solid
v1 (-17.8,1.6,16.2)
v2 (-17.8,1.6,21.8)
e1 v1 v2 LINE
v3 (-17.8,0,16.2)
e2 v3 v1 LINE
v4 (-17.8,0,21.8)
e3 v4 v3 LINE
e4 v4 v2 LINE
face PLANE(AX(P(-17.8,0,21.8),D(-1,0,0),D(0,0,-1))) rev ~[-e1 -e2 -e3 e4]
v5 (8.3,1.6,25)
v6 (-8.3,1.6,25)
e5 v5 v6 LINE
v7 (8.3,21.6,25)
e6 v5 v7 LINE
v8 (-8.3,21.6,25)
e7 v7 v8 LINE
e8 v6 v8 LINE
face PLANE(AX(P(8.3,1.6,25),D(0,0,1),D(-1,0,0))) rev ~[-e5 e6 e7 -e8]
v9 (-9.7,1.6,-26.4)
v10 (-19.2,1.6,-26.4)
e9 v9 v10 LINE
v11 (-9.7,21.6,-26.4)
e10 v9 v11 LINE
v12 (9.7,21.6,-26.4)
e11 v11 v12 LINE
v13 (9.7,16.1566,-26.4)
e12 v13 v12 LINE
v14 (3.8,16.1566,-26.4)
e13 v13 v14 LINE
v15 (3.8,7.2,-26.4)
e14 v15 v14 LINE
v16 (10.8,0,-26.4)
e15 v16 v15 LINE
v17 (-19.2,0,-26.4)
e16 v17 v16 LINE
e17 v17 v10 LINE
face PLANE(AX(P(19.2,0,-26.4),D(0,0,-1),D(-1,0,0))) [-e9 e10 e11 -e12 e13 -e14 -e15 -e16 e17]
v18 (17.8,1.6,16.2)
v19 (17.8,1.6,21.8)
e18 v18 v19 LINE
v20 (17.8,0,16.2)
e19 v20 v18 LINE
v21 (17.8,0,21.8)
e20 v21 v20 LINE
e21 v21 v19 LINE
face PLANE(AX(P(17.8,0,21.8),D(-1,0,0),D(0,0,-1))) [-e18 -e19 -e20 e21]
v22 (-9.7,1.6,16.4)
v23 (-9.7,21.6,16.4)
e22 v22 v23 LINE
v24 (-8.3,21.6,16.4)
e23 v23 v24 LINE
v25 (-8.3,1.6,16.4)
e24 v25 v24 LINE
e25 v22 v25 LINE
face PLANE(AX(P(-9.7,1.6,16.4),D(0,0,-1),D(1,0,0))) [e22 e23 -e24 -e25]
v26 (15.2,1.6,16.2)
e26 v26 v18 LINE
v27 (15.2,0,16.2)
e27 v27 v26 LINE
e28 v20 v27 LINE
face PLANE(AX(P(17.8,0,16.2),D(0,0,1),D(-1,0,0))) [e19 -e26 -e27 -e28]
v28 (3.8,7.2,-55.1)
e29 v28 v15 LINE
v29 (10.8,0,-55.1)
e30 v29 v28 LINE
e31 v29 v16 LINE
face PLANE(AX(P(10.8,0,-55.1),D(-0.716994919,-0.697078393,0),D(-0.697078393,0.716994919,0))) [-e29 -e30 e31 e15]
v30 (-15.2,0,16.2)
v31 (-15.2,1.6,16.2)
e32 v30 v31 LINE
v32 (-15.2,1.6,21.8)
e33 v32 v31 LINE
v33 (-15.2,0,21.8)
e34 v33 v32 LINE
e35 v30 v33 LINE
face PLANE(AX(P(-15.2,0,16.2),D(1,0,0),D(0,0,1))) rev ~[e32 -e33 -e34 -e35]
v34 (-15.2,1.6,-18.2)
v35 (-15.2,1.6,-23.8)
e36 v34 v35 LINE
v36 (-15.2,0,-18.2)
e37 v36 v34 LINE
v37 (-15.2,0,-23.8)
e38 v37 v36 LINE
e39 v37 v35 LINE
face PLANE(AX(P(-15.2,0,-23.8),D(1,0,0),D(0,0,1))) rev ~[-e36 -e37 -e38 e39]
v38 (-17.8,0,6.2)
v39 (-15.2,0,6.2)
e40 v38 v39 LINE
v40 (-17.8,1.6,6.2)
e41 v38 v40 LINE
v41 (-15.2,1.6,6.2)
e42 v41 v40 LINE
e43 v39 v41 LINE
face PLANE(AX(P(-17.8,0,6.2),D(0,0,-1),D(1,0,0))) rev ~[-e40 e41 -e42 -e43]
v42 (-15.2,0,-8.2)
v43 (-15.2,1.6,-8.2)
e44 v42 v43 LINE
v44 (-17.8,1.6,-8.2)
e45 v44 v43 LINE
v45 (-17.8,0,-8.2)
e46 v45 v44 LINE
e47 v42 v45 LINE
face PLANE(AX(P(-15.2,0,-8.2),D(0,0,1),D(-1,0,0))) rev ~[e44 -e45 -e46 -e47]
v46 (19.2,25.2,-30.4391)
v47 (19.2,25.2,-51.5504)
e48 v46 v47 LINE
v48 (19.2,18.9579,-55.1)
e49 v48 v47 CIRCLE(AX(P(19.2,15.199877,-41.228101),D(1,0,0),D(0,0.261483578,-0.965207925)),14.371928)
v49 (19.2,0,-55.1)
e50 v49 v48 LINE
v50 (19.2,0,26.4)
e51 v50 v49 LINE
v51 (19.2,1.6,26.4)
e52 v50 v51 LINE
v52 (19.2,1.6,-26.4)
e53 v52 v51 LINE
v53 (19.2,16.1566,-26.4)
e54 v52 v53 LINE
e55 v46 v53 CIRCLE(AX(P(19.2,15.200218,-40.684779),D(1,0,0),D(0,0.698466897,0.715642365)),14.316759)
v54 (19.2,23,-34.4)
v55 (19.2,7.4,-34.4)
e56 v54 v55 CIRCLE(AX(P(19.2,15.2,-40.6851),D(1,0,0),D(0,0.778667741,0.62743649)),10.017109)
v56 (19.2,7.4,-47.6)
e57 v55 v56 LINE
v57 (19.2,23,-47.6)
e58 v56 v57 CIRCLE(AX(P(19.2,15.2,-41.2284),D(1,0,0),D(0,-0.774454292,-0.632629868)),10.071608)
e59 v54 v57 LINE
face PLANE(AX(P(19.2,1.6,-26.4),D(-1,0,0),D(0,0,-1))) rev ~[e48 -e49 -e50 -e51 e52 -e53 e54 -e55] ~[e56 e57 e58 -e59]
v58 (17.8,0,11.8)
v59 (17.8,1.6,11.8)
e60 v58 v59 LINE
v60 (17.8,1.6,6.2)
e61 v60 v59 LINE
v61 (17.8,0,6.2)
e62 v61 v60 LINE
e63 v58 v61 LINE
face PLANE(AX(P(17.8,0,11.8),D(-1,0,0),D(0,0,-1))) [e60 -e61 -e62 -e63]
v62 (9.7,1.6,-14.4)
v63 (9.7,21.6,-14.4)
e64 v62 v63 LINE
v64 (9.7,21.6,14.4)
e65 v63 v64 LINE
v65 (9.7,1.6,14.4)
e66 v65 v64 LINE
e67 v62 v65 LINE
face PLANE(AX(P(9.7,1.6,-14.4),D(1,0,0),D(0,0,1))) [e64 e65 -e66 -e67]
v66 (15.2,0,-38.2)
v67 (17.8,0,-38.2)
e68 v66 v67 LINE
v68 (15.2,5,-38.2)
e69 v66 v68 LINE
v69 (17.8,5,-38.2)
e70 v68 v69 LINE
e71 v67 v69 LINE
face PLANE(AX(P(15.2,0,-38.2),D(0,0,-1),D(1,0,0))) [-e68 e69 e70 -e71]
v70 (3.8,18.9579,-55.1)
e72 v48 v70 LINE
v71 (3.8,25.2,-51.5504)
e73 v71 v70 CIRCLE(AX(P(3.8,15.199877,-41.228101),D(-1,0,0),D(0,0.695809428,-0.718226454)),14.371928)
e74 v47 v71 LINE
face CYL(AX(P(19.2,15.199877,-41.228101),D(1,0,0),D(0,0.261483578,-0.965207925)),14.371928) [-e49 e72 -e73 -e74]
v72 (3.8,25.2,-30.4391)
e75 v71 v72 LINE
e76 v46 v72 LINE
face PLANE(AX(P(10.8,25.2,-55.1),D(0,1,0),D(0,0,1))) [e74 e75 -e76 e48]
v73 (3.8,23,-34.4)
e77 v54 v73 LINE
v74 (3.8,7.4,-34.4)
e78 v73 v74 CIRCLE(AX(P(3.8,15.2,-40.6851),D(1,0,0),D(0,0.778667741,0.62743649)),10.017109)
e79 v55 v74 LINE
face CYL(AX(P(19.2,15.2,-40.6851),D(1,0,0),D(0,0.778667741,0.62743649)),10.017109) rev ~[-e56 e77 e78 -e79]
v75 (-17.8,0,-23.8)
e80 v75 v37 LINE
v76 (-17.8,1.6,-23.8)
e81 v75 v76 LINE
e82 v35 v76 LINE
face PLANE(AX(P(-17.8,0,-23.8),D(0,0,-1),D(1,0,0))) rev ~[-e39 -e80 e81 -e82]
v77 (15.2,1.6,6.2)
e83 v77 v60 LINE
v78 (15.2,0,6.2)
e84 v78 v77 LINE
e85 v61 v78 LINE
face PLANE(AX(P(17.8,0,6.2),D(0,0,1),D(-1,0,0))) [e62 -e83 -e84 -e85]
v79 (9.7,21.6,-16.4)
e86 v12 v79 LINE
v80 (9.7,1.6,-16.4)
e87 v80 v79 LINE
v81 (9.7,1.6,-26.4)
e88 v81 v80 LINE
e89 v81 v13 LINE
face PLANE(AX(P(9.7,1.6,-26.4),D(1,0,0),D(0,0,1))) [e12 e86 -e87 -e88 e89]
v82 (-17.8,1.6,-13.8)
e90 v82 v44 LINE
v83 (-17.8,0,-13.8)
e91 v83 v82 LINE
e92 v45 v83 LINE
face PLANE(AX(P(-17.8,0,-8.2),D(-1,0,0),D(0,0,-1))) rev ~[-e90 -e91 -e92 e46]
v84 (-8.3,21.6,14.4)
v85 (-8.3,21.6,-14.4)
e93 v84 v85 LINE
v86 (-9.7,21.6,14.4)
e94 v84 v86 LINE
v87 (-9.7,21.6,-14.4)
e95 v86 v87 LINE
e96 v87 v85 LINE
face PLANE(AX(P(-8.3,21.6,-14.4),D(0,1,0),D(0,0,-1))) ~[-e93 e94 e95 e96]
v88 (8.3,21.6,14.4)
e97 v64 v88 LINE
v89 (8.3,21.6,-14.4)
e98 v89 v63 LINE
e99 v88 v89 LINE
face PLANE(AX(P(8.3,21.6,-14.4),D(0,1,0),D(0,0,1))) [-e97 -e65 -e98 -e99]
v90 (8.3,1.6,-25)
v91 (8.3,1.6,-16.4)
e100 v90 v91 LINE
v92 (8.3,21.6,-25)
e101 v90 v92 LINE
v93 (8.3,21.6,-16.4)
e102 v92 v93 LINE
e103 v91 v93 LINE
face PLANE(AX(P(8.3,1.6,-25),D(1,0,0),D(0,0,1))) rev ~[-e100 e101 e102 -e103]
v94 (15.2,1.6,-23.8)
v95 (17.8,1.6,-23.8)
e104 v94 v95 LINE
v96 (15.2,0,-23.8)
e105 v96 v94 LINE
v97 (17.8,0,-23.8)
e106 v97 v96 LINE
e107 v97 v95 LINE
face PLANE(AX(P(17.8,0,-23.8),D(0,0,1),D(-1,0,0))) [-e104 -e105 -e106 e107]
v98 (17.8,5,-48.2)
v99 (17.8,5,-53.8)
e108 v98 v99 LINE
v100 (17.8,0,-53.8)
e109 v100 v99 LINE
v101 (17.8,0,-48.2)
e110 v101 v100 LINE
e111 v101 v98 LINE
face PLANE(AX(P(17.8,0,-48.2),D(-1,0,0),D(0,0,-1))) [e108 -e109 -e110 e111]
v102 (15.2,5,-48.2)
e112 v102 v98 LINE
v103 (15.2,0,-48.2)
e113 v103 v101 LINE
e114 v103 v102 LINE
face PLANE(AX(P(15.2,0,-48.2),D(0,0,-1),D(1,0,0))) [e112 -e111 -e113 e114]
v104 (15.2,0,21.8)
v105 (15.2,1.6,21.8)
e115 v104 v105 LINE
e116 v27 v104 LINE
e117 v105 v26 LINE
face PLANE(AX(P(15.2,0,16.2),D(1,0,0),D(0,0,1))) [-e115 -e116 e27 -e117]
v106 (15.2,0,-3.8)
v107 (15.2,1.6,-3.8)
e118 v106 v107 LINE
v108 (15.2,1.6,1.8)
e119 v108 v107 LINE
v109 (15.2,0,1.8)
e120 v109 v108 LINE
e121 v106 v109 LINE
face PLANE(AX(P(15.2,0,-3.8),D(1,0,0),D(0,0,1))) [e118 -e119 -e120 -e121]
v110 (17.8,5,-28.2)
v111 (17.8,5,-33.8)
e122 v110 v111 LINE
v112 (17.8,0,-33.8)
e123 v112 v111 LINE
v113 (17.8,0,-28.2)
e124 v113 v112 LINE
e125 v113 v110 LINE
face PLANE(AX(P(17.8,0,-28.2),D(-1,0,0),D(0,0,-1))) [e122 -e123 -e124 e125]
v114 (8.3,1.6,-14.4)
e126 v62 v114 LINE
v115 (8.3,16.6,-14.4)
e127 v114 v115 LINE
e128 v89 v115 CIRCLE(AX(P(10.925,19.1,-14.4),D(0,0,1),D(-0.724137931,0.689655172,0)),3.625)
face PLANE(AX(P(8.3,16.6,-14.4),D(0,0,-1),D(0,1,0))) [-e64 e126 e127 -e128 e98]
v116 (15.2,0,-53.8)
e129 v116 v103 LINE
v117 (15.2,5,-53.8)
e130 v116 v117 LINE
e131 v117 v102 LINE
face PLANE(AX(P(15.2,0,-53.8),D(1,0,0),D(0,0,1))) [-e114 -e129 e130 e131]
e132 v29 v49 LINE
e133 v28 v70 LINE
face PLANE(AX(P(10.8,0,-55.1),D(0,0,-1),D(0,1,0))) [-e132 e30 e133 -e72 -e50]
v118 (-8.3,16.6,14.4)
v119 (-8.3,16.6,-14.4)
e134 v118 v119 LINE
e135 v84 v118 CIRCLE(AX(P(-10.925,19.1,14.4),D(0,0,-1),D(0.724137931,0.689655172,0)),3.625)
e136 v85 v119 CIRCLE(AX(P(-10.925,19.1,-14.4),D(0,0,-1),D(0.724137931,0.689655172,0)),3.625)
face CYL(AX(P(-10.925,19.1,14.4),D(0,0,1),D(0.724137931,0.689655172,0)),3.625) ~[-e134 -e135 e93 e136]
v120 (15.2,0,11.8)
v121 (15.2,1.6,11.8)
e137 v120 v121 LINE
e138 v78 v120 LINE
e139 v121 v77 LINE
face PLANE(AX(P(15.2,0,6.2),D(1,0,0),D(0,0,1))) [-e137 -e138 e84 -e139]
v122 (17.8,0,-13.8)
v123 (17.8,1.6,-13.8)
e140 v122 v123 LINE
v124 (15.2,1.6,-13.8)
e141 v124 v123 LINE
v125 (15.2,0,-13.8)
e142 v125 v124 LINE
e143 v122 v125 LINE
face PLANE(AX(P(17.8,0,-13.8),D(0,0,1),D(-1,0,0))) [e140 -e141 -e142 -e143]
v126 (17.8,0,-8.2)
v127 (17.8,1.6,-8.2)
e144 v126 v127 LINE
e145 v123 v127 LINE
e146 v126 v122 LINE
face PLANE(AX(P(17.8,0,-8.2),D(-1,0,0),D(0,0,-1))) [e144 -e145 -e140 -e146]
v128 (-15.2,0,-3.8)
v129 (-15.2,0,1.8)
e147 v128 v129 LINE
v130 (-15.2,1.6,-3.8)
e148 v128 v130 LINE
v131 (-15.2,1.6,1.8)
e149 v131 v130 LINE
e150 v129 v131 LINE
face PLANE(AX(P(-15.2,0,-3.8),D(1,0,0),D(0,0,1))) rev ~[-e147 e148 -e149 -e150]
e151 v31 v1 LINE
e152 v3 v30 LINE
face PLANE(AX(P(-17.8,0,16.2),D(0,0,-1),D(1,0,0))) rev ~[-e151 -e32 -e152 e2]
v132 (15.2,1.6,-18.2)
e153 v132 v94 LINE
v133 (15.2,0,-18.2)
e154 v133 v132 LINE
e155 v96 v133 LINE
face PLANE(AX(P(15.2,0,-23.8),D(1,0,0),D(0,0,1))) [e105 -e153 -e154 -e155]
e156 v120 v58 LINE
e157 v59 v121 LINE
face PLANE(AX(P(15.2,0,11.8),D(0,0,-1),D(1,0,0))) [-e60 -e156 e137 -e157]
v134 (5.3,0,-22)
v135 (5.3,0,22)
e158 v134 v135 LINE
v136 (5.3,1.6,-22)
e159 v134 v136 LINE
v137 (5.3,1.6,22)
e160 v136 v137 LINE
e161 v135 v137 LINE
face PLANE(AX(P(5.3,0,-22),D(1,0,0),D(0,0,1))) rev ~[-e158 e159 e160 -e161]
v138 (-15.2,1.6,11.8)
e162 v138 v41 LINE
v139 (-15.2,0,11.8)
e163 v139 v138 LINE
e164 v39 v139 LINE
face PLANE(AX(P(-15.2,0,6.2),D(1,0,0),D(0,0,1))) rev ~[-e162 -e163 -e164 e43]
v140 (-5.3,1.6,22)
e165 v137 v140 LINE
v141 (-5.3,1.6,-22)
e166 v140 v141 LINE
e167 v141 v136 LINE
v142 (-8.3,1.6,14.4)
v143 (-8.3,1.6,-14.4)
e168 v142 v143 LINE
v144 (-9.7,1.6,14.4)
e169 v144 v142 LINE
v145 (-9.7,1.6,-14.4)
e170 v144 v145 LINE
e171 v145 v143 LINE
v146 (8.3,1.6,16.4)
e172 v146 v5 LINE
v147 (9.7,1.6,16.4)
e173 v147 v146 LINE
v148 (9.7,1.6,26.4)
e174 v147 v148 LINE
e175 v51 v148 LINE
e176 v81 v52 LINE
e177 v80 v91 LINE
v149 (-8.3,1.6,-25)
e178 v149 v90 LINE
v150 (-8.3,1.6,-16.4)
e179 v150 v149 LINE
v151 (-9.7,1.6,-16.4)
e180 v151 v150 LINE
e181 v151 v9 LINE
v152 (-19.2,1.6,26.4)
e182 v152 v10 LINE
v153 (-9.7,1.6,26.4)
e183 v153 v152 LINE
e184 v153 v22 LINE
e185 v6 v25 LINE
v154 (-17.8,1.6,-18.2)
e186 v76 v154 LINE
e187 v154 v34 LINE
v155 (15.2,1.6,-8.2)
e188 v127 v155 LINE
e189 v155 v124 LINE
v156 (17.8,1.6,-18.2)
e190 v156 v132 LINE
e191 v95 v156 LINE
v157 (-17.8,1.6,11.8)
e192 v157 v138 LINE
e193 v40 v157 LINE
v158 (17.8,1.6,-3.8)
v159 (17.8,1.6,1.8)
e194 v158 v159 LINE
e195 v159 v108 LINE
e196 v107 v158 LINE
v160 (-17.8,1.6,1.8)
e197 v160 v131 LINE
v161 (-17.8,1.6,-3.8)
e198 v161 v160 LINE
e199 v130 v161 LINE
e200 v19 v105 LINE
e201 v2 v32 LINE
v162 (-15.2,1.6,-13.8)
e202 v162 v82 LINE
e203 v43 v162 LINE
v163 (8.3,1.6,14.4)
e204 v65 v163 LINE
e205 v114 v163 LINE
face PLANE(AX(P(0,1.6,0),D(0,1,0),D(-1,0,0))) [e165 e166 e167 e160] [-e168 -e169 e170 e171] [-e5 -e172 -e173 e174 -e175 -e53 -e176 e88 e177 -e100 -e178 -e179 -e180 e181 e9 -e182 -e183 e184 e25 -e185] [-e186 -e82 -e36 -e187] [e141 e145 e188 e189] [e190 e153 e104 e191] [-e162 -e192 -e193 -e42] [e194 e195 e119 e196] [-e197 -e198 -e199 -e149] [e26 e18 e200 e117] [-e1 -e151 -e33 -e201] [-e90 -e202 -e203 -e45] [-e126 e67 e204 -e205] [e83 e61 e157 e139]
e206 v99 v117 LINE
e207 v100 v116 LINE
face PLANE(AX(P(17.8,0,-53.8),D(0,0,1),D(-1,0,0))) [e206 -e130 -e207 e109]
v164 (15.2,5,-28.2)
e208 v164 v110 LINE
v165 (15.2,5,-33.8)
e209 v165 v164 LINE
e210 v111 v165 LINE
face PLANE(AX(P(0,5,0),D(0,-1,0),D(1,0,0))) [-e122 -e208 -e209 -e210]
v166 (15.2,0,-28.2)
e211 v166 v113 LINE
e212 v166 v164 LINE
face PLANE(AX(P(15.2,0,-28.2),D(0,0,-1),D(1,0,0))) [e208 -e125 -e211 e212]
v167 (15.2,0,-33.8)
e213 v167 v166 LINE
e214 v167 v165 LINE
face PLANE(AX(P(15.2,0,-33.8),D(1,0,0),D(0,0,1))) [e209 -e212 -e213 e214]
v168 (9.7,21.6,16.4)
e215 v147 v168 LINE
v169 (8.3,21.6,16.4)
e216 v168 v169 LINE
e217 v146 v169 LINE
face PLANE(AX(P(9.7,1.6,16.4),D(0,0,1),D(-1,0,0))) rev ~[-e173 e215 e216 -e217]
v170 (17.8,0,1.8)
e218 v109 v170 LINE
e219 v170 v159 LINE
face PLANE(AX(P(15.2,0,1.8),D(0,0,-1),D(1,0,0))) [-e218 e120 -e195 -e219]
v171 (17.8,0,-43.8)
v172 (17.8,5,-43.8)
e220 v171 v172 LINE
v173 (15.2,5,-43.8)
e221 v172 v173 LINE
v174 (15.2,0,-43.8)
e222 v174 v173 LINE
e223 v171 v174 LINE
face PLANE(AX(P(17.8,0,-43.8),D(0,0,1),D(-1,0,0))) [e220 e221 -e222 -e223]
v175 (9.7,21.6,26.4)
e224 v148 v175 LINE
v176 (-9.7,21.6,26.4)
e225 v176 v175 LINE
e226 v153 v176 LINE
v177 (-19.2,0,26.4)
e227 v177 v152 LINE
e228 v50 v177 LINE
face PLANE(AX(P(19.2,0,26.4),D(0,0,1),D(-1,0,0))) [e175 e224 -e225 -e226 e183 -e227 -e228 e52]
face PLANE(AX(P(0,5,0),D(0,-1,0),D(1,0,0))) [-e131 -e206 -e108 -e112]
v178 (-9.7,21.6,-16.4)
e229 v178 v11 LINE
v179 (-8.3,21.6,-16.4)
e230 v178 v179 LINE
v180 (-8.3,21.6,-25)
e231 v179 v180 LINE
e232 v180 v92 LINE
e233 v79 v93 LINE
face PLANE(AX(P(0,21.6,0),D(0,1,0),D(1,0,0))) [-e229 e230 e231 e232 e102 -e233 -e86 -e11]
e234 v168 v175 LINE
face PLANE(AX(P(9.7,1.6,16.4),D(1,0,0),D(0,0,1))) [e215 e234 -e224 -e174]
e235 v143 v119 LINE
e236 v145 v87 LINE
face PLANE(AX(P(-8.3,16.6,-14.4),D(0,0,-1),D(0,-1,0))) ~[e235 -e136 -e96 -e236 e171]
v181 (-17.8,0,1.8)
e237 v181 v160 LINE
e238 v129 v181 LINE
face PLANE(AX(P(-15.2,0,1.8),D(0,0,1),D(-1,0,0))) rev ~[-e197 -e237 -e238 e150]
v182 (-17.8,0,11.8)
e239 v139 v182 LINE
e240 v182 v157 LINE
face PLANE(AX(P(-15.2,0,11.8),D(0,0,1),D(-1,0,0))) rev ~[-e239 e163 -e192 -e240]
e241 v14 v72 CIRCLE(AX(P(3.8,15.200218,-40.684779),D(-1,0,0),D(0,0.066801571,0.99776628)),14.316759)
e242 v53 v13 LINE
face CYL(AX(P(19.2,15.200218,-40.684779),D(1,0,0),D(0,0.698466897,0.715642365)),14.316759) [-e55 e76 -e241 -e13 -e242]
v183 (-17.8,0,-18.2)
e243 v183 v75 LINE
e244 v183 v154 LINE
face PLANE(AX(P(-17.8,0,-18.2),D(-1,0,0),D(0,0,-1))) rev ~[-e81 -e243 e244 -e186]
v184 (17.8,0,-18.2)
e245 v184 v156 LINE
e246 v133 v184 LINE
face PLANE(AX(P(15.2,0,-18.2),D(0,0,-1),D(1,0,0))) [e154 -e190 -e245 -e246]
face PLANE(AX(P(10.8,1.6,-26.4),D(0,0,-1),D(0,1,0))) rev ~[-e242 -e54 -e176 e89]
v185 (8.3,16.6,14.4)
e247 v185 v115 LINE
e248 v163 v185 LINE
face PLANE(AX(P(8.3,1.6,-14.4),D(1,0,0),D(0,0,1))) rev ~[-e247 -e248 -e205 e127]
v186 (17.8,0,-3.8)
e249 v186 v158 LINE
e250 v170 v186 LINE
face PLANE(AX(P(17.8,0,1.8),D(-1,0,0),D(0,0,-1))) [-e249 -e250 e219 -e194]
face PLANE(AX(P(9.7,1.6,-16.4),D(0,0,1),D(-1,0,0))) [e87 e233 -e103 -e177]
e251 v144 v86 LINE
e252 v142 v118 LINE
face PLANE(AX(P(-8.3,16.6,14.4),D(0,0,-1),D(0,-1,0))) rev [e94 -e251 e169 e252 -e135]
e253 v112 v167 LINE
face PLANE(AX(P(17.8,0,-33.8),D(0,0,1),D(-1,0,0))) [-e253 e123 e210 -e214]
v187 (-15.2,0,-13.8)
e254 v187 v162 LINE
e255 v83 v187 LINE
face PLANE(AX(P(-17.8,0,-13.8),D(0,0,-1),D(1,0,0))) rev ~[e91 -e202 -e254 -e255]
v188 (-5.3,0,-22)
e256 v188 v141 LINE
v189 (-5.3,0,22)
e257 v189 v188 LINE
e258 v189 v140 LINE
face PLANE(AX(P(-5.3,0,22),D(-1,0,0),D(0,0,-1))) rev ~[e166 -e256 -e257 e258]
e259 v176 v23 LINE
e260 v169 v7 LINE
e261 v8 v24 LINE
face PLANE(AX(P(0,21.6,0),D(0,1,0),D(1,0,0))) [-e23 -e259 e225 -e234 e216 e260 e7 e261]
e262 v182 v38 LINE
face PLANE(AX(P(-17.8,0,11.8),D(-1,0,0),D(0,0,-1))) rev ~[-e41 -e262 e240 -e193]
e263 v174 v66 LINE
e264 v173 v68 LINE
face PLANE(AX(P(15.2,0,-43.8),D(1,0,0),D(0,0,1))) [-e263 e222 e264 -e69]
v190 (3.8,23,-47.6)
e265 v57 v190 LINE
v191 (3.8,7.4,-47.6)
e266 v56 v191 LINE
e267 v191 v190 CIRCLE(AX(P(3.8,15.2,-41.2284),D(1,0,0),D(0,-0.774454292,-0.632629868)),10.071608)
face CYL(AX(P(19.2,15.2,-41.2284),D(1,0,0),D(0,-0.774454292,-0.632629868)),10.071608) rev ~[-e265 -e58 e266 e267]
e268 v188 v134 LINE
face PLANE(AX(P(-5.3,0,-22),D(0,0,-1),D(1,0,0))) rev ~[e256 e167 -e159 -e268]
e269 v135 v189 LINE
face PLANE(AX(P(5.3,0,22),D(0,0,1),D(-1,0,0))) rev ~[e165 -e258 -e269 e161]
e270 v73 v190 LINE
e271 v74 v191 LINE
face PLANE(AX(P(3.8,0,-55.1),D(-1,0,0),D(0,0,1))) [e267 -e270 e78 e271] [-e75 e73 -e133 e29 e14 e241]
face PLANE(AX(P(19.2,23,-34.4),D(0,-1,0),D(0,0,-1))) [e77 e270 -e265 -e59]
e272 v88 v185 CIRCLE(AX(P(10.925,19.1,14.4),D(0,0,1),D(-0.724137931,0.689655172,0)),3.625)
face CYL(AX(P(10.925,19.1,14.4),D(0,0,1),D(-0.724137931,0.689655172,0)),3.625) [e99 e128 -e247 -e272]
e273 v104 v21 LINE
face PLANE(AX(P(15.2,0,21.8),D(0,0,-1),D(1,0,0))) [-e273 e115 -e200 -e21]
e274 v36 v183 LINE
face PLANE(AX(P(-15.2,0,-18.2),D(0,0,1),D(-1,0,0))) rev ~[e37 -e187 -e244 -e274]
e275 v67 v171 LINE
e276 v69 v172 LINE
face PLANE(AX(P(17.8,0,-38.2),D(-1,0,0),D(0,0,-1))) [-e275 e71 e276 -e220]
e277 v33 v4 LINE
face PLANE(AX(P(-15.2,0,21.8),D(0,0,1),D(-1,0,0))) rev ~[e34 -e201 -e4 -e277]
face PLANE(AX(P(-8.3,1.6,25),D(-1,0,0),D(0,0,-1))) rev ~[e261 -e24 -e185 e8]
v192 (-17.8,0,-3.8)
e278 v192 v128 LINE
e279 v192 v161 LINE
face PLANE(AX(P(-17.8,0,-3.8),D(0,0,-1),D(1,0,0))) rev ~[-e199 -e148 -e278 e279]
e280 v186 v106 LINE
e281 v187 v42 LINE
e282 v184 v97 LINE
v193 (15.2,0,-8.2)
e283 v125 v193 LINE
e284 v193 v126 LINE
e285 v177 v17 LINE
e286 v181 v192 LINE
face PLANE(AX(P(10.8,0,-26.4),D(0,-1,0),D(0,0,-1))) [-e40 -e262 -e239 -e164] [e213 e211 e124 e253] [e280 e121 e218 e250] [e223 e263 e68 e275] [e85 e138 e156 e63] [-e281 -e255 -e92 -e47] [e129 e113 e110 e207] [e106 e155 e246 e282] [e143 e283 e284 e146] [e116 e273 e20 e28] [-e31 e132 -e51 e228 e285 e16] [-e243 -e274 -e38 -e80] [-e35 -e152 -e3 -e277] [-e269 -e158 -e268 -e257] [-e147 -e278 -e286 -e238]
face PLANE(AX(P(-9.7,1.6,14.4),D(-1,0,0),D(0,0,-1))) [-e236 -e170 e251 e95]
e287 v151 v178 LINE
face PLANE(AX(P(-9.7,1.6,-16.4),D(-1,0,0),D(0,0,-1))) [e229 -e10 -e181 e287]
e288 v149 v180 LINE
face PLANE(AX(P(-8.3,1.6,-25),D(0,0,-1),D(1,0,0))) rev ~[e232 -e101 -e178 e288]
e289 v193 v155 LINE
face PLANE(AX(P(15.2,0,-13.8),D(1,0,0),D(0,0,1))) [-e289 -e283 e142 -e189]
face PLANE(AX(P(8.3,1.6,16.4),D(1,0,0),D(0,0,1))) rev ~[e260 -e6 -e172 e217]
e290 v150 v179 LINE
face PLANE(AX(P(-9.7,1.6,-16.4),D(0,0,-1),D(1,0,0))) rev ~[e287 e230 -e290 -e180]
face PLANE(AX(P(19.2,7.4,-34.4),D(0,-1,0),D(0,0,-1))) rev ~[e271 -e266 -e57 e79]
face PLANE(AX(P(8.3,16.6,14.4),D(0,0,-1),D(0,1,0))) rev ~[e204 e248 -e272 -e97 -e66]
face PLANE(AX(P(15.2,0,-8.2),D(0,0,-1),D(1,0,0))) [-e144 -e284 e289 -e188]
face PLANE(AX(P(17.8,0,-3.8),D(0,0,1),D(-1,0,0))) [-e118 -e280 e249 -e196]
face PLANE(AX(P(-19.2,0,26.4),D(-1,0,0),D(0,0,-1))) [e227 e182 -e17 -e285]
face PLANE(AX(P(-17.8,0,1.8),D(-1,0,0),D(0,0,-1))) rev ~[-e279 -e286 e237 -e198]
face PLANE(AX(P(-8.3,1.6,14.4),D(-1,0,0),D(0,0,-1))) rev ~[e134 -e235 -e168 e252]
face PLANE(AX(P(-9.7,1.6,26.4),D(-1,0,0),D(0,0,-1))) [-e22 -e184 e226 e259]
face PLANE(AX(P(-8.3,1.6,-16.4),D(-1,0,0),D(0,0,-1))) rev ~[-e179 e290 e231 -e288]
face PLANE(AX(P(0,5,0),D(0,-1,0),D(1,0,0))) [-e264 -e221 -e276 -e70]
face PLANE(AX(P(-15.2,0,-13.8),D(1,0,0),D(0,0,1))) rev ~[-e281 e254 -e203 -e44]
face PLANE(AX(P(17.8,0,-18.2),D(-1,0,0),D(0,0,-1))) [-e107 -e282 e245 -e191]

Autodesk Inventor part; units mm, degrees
ref_plane "YZ Plane" through (0, 0, 0) normal (1, 0, 0) x (0, 1, 0)
ref_plane "XZ Plane" through (0, 0, 0) normal (0, 1, 0) x (-1, 0, 0)
ref_plane "XY Plane" through (0, 0, 0) normal (0, 0, 1) x (1, 0, 0)
sketch "Sketch1" plane through (0, 0, 0) normal (0, 1, 0) x (-1, 0, 0)
  line L0 (-19.2, 26.4) -> (19.2, 26.4)
  line L1 (19.2, 26.4) -> (19.2, -26.4)
  line L2 (10.8, -26.4) -> (-10.8, -26.4)
  line L3 (-19.2, -26.4) -> (-19.2, 26.4)
  line L4 (-19.2, 26.4) -> (19.2, -26.4) construction
  line L5 (19.2, 26.4) -> (-19.2, -26.4) construction
  line L6 (-5.3, 22) -> (5.3, 22)
  line L7 (5.3, 22) -> (5.3, -22)
  line L8 (5.3, -22) -> (-5.3, -22)
  line L9 (-5.3, -22) -> (-5.3, 22)
  line L10 (-5.3, 22) -> (5.3, -22) construction
  line L11 (5.3, 22) -> (-5.3, -22) construction
  line L12 (-10.8, -26.4) -> (-10.8, -55.1)
  line L13 (-10.8, -55.1) -> (-19.2, -55.1)
  line L14 (-19.2, -55.1) -> (-19.2, -26.4)
  line L15 (10.8, -26.4) -> (19.2, -26.4)
  point P0 (0, 0)
  point P1 (13.2741, -55.1)
  dimension "d4" = 10.6
  dimension "d5" = 44
  dimension "d37" = 8.4
extrude "Extrusion1" add sketch "Sketch1" along normal blind 1.6
sketch "Sketch3" plane through (0, 1.6, 0) normal (0, 1, 0) x (1, 0, 0)
  line L0 (-5.3, 22) -> (5.3, 22) projected
  line L1 (5.3, -22) -> (-5.3, -22) projected
  line L2 (-19.2, -26.4) -> (19.2, -26.4) projected
  line L3 (10.8, 26.4) -> (-19.2, 26.4) projected
  line L4 (9.7, -26.4) -> (-9.7, -26.4)
  line L5 (-9.7, -26.4) -> (-9.7, 26.4)
  line L6 (-9.7, 26.4) -> (9.7, 26.4)
  line L7 (9.7, 26.4) -> (9.7, -26.4)
  line L8 (9.7, -26.4) -> (-9.7, 26.4) construction
  line L9 (-9.7, -26.4) -> (9.7, 26.4) construction
  line L10 (8.3, -25) -> (-8.3, -25)
  line L11 (-8.3, -25) -> (-8.3, 25)
  line L12 (-8.3, 25) -> (8.3, 25)
  line L13 (8.3, 25) -> (8.3, -25)
  line L14 (8.3, -25) -> (-8.3, 25) construction
  line L15 (-8.3, -25) -> (8.3, 25) construction
  line L16 (-9.7, 16.4) -> (-8.3, 16.4)
  line L17 (-9.7, 14.4) -> (-8.3, 14.4)
  line L18 (-9.7, -14.4) -> (-8.3, -14.4)
  line L19 (-9.7, -16.4) -> (-8.3, -16.4)
  line L20 (0, 22) -> (0, -22)
  line L21 (9.7, 16.4) -> (8.3, 16.4)
  line L22 (9.7, 14.4) -> (8.3, 14.4)
  line L23 (9.7, -14.4) -> (8.3, -14.4)
  line L24 (9.7, -16.4) -> (8.3, -16.4)
  line L25 (8.3, 16.4) -> (8.3, 14.4)
  line L26 (9.7, 16.4) -> (9.7, 14.4)
  line L27 (9.7, -14.4) -> (9.7, -16.4)
  line L28 (8.3, -14.4) -> (8.3, -16.4)
  point P0 (19.2, 26.4)
  point P1 (-10.8, 26.4)
  point P2 (0, 0)
  point P3 (0, 0)
  dimension "d8" = 19.4
  dimension "d9" = 1.4
  dimension "d10" = 1.4
  dimension "d11" = 2
  dimension "d12" = 10
  dimension "d13" = 2
  dimension "d14" = 10
extrude "Extrusion2" add sketch "Sketch3" along normal blind 20 contours L5 L19 L11 L10 L13 L24 L7 L2 | L5 L17 L11 L18 | L23 L13 L22 L7 | L5 L3 L7 L21 L13 L12 L11 L16
sketch "Sketch8" plane through (0, 1.6, 0) normal (0, 1, 0) x (1, 0, 0)
  line L0 (19.2, -26.4) -> (19.2, 55.1) projected
  line L1 (10.8, 55.1) -> (19.2, 55.1)
  line L2 (19.2, 55.1) -> (19.2, 26.4)
  line L3 (19.2, 26.4) -> (10.8, 26.4)
  line L4 (10.8, 26.4) -> (10.8, 55.1)
  point P0 (0, 0)
extrude "Extrusion6" add sketch "Sketch8" along normal blind 23.6
sketch "Sketch9" plane through (10.8, 0, -55.1) normal (-1, 0, 0) x (0, 0, 1)
  line L0 (28.7, 0) -> (0, 0) projected
  line L1 (28.7, 0) -> (28.7, 1.6) projected
  line L2 (28.7, 1.6) -> (28.7, 25.2) projected
  line L3 (0, 25.2) -> (28.7, 25.2) projected
  line L4 (0, 0) -> (0, 25.2) projected
  point P0 (55.1, 0)
extrude "Extrusion7" add sketch "Sketch9" along normal blind 7
sketch "Sketch10" plane through (19.2, 0, -55.1) normal (0, 0, -1) x (-1, 0, 0)
  line L0 (15.4, 0) -> (0, 0) projected
  line L1 (15.4, 25.2) -> (15.4, 0) projected
  line L2 (8.4, 0) -> (15.4, 7.2)
  point P0 (19.2, 0)
  dimension "d42" = 7.2
  dimension "d43" = 7
extrude "Extrusion8" cut sketch "Sketch10" against normal up to surface (28.7 mm away)
sketch "Sketch11" plane through (19.2, 0, 26.4) normal (1, 0, 0) x (0, 0, -1)
  line L0 (81.5, 0) -> (0, 0) projected
  line L1 (81.5, 0) -> (81.5, 25.2) projected
  line L2 (52.8, 25.2) -> (81.5, 25.2) projected
  line L3 (52.8, 1.6) -> (52.8, 25.2) projected
  line L4 (52.8, 7.4) -> (81.5, 7.4)
  line L5 (55.0793, 23) -> (79.6991, 23)
  arc A0 (60.8, 23) -> (60.8, 7.4) centre (67.0851, 15.2) ccw
  arc A1 (74, 7.4) -> (74, 23) centre (67.6284, 15.2) ccw
  arc A2 (56.8391, 25.2) -> (52.8, 16.1566) centre (67.0851, 15.2) ccw
  line L6 (52.8, 14.2434) -> (52.8, 7.4)
  line L7 (52.8, 7.4) -> (60.8, 7.4)
  line L8 (74.3931, 7.4) -> (81.5, 7.4)
  arc A3 (81.5, 18.9579) -> (77.9504, 25.2) centre (67.6284, 15.2) ccw
  line L9 (81.5, 11.4421) -> (81.5, 7.4)
  line L10 (77.9504, 25.2) -> (56.8391, 25.2)
  arc A4 (56.8391, 25.2) -> (52.8, 16.1566) centre (67.0851, 15.2) ccw
  line L11 (56.8391, 25.2) -> (52.8, 25.2)
  line L12 (52.8, 25.2) -> (52.8, 14.2434)
  line L13 (77.9504, 25.2) -> (81.5, 25.2)
  line L14 (81.5, 25.2) -> (81.5, 18.9579)
  arc A5 (56.8391, 25.2) -> (52.8, 16.1566) centre (67.0851, 15.2) ccw
  line L15 (52.8, 16.1566) -> (52.8, 25.2)
  line L16 (52.8, 25.2) -> (56.8391, 25.2)
  point P0 (26.4, 0)
  point P1 (77.7, 15.2)
  point P2 (57.1, 15.2)
  dimension "d46" = 7.4
  dimension "d47" = 2.2
  dimension "d48" = 8
  dimension "d49" = 13.2
  dimension "d50" = 7.8
  dimension "d51" = 3.7
  dimension "d52" = 8
  dimension "d53" = 13.2
  dimension "d54" = 7.8
  dimension "d55" = 3.7
  dimension "d56" = 4.3
  dimension "d57" = 4.3
extrude "Extrusion9" cut sketch "Sketch11" against normal up to surface (15.4 mm away) contours A3 L2 L1 | L4 A0 L5 A1 | A2 L3 L2
sketch "Sketch12" plane through (0, 0, 0) normal (0, -1, 0) x (1, 0, 0)
  line L0 (19.2, -55.1) -> (19.2, 26.4) projected
  line L1 (19.2, 26.4) -> (-19.2, 26.4) projected
  line L2 (-5.3, 22) -> (5.3, 22) projected
  line L3 (5.3, -22) -> (-5.3, -22) projected
  line L4 (15.2, 21.8) -> (17.8, 21.8)
  line L5 (17.8, 21.8) -> (17.8, 16.2)
  line L6 (17.8, 16.2) -> (15.2, 16.2)
  line L7 (15.2, 16.2) -> (15.2, 21.8)
  line L8 (0, 22) -> (0, -22)
  line L9 (15.2, 11.8) -> (17.8, 11.8)
  line L10 (17.8, 11.8) -> (17.8, 6.2)
  line L11 (17.8, 6.2) -> (15.2, 6.2)
  line L12 (15.2, 6.2) -> (15.2, 11.8)
  line L13 (15.2, 1.8) -> (17.8, 1.8)
  line L14 (17.8, 1.8) -> (17.8, -3.8)
  line L15 (17.8, -3.8) -> (15.2, -3.8)
  line L16 (15.2, -3.8) -> (15.2, 1.8)
  line L17 (15.2, -8.2) -> (17.8, -8.2)
  line L18 (17.8, -8.2) -> (17.8, -13.8)
  line L19 (17.8, -13.8) -> (15.2, -13.8)
  line L20 (15.2, -13.8) -> (15.2, -8.2)
  line L21 (15.2, -18.2) -> (17.8, -18.2)
  line L22 (17.8, -18.2) -> (17.8, -23.8)
  line L23 (17.8, -23.8) -> (15.2, -23.8)
  line L24 (15.2, -23.8) -> (15.2, -18.2)
  line L25 (15.2, -28.2) -> (17.8, -28.2)
  line L26 (17.8, -28.2) -> (17.8, -33.8)
  line L27 (17.8, -33.8) -> (15.2, -33.8)
  line L28 (15.2, -33.8) -> (15.2, -28.2)
  line L29 (15.2, -38.2) -> (17.8, -38.2)
  line L30 (17.8, -38.2) -> (17.8, -43.8)
  line L31 (17.8, -43.8) -> (15.2, -43.8)
  line L32 (15.2, -43.8) -> (15.2, -38.2)
  line L33 (15.2, -48.2) -> (17.8, -48.2)
  line L34 (17.8, -48.2) -> (17.8, -53.8)
  line L35 (17.8, -53.8) -> (15.2, -53.8)
  line L36 (15.2, -53.8) -> (15.2, -48.2)
  line L37 (-15.2, 21.8) -> (-17.8, 21.8)
  line L38 (-17.8, 21.8) -> (-17.8, 16.2)
  line L39 (-17.8, 16.2) -> (-15.2, 16.2)
  line L40 (-15.2, 16.2) -> (-15.2, 21.8)
  line L41 (-15.2, 11.8) -> (-17.8, 11.8)
  line L42 (-17.8, 11.8) -> (-17.8, 6.2)
  line L43 (-15.2, 6.2) -> (-15.2, 11.8)
  line L44 (-17.8, 6.2) -> (-15.2, 6.2)
  line L45 (-15.2, 1.8) -> (-17.8, 1.8)
  line L46 (-17.8, 1.8) -> (-17.8, -3.8)
  line L47 (-15.2, -3.8) -> (-15.2, 1.8)
  line L48 (-17.8, -3.8) -> (-15.2, -3.8)
  line L49 (-15.2, -8.2) -> (-17.8, -8.2)
  line L50 (-17.8, -8.2) -> (-17.8, -13.8)
  line L51 (-15.2, -13.8) -> (-15.2, -8.2)
  line L52 (-17.8, -13.8) -> (-15.2, -13.8)
  line L53 (-15.2, -18.2) -> (-17.8, -18.2)
  line L54 (-17.8, -18.2) -> (-17.8, -23.8)
  line L55 (-15.2, -23.8) -> (-15.2, -18.2)
  line L56 (-17.8, -23.8) -> (-15.2, -23.8)
  point P0 (0, 0)
  dimension "d60" = 1.4
  dimension "d61" = 5.6
  dimension "d62" = 4.6
  dimension "d63" = 2.6
  dimension "d66" = 10
extrude "Extrusion10" cut sketch "Sketch12" against normal blind 5
sketch "Sketch13" plane through (8.3, 1.6, -14.4) normal (-1, 0, 0) x (0, 0, 1)
  line L0 (28.8, 0) -> (28.8, 20) projected
  line L1 (0, 20) -> (28.8, 20) projected
  line L2 (0, 20) -> (28.8, 20)
  line L3 (28.8, 20) -> (28.8, 15)
  line L4 (28.8, 15) -> (0, 15)
  line L5 (0, 15) -> (0, 20)
  point P0 (14.4, -1.6)
  dimension "d73" = 5
extrude "Extrusion11" add sketch "Sketch13" along normal blind 5
sketch "Sketch14" plane through (8.3, 1.6, 14.4) normal (0, 0, 1) x (1, 0, 0)
  line L0 (1.4, 20) -> (-5, 20) projected
  line L1 (-5, 15) -> (-5, 20) projected
  line L2 (0, 15) -> (-5, 15) projected
  line L3 (0, 15) -> (0, 20)
  arc A0 (0, 20) -> (0, 15) centre (2.625, 17.5) ccw
  point P0 (-8.3, -1.6)
  point P1 (-1, 17.5)
  dimension "d76" = 1
extrude "Extrusion12" cut sketch "Sketch14" against normal up to surface (28.8 mm away) contours A0 L2 L1 L0
mirror "Mirror1" about plane through (0, 0, 0) normal (1, 0, 0) of "Extrusion11", "Extrusion12"
properties part number "motor housing"
